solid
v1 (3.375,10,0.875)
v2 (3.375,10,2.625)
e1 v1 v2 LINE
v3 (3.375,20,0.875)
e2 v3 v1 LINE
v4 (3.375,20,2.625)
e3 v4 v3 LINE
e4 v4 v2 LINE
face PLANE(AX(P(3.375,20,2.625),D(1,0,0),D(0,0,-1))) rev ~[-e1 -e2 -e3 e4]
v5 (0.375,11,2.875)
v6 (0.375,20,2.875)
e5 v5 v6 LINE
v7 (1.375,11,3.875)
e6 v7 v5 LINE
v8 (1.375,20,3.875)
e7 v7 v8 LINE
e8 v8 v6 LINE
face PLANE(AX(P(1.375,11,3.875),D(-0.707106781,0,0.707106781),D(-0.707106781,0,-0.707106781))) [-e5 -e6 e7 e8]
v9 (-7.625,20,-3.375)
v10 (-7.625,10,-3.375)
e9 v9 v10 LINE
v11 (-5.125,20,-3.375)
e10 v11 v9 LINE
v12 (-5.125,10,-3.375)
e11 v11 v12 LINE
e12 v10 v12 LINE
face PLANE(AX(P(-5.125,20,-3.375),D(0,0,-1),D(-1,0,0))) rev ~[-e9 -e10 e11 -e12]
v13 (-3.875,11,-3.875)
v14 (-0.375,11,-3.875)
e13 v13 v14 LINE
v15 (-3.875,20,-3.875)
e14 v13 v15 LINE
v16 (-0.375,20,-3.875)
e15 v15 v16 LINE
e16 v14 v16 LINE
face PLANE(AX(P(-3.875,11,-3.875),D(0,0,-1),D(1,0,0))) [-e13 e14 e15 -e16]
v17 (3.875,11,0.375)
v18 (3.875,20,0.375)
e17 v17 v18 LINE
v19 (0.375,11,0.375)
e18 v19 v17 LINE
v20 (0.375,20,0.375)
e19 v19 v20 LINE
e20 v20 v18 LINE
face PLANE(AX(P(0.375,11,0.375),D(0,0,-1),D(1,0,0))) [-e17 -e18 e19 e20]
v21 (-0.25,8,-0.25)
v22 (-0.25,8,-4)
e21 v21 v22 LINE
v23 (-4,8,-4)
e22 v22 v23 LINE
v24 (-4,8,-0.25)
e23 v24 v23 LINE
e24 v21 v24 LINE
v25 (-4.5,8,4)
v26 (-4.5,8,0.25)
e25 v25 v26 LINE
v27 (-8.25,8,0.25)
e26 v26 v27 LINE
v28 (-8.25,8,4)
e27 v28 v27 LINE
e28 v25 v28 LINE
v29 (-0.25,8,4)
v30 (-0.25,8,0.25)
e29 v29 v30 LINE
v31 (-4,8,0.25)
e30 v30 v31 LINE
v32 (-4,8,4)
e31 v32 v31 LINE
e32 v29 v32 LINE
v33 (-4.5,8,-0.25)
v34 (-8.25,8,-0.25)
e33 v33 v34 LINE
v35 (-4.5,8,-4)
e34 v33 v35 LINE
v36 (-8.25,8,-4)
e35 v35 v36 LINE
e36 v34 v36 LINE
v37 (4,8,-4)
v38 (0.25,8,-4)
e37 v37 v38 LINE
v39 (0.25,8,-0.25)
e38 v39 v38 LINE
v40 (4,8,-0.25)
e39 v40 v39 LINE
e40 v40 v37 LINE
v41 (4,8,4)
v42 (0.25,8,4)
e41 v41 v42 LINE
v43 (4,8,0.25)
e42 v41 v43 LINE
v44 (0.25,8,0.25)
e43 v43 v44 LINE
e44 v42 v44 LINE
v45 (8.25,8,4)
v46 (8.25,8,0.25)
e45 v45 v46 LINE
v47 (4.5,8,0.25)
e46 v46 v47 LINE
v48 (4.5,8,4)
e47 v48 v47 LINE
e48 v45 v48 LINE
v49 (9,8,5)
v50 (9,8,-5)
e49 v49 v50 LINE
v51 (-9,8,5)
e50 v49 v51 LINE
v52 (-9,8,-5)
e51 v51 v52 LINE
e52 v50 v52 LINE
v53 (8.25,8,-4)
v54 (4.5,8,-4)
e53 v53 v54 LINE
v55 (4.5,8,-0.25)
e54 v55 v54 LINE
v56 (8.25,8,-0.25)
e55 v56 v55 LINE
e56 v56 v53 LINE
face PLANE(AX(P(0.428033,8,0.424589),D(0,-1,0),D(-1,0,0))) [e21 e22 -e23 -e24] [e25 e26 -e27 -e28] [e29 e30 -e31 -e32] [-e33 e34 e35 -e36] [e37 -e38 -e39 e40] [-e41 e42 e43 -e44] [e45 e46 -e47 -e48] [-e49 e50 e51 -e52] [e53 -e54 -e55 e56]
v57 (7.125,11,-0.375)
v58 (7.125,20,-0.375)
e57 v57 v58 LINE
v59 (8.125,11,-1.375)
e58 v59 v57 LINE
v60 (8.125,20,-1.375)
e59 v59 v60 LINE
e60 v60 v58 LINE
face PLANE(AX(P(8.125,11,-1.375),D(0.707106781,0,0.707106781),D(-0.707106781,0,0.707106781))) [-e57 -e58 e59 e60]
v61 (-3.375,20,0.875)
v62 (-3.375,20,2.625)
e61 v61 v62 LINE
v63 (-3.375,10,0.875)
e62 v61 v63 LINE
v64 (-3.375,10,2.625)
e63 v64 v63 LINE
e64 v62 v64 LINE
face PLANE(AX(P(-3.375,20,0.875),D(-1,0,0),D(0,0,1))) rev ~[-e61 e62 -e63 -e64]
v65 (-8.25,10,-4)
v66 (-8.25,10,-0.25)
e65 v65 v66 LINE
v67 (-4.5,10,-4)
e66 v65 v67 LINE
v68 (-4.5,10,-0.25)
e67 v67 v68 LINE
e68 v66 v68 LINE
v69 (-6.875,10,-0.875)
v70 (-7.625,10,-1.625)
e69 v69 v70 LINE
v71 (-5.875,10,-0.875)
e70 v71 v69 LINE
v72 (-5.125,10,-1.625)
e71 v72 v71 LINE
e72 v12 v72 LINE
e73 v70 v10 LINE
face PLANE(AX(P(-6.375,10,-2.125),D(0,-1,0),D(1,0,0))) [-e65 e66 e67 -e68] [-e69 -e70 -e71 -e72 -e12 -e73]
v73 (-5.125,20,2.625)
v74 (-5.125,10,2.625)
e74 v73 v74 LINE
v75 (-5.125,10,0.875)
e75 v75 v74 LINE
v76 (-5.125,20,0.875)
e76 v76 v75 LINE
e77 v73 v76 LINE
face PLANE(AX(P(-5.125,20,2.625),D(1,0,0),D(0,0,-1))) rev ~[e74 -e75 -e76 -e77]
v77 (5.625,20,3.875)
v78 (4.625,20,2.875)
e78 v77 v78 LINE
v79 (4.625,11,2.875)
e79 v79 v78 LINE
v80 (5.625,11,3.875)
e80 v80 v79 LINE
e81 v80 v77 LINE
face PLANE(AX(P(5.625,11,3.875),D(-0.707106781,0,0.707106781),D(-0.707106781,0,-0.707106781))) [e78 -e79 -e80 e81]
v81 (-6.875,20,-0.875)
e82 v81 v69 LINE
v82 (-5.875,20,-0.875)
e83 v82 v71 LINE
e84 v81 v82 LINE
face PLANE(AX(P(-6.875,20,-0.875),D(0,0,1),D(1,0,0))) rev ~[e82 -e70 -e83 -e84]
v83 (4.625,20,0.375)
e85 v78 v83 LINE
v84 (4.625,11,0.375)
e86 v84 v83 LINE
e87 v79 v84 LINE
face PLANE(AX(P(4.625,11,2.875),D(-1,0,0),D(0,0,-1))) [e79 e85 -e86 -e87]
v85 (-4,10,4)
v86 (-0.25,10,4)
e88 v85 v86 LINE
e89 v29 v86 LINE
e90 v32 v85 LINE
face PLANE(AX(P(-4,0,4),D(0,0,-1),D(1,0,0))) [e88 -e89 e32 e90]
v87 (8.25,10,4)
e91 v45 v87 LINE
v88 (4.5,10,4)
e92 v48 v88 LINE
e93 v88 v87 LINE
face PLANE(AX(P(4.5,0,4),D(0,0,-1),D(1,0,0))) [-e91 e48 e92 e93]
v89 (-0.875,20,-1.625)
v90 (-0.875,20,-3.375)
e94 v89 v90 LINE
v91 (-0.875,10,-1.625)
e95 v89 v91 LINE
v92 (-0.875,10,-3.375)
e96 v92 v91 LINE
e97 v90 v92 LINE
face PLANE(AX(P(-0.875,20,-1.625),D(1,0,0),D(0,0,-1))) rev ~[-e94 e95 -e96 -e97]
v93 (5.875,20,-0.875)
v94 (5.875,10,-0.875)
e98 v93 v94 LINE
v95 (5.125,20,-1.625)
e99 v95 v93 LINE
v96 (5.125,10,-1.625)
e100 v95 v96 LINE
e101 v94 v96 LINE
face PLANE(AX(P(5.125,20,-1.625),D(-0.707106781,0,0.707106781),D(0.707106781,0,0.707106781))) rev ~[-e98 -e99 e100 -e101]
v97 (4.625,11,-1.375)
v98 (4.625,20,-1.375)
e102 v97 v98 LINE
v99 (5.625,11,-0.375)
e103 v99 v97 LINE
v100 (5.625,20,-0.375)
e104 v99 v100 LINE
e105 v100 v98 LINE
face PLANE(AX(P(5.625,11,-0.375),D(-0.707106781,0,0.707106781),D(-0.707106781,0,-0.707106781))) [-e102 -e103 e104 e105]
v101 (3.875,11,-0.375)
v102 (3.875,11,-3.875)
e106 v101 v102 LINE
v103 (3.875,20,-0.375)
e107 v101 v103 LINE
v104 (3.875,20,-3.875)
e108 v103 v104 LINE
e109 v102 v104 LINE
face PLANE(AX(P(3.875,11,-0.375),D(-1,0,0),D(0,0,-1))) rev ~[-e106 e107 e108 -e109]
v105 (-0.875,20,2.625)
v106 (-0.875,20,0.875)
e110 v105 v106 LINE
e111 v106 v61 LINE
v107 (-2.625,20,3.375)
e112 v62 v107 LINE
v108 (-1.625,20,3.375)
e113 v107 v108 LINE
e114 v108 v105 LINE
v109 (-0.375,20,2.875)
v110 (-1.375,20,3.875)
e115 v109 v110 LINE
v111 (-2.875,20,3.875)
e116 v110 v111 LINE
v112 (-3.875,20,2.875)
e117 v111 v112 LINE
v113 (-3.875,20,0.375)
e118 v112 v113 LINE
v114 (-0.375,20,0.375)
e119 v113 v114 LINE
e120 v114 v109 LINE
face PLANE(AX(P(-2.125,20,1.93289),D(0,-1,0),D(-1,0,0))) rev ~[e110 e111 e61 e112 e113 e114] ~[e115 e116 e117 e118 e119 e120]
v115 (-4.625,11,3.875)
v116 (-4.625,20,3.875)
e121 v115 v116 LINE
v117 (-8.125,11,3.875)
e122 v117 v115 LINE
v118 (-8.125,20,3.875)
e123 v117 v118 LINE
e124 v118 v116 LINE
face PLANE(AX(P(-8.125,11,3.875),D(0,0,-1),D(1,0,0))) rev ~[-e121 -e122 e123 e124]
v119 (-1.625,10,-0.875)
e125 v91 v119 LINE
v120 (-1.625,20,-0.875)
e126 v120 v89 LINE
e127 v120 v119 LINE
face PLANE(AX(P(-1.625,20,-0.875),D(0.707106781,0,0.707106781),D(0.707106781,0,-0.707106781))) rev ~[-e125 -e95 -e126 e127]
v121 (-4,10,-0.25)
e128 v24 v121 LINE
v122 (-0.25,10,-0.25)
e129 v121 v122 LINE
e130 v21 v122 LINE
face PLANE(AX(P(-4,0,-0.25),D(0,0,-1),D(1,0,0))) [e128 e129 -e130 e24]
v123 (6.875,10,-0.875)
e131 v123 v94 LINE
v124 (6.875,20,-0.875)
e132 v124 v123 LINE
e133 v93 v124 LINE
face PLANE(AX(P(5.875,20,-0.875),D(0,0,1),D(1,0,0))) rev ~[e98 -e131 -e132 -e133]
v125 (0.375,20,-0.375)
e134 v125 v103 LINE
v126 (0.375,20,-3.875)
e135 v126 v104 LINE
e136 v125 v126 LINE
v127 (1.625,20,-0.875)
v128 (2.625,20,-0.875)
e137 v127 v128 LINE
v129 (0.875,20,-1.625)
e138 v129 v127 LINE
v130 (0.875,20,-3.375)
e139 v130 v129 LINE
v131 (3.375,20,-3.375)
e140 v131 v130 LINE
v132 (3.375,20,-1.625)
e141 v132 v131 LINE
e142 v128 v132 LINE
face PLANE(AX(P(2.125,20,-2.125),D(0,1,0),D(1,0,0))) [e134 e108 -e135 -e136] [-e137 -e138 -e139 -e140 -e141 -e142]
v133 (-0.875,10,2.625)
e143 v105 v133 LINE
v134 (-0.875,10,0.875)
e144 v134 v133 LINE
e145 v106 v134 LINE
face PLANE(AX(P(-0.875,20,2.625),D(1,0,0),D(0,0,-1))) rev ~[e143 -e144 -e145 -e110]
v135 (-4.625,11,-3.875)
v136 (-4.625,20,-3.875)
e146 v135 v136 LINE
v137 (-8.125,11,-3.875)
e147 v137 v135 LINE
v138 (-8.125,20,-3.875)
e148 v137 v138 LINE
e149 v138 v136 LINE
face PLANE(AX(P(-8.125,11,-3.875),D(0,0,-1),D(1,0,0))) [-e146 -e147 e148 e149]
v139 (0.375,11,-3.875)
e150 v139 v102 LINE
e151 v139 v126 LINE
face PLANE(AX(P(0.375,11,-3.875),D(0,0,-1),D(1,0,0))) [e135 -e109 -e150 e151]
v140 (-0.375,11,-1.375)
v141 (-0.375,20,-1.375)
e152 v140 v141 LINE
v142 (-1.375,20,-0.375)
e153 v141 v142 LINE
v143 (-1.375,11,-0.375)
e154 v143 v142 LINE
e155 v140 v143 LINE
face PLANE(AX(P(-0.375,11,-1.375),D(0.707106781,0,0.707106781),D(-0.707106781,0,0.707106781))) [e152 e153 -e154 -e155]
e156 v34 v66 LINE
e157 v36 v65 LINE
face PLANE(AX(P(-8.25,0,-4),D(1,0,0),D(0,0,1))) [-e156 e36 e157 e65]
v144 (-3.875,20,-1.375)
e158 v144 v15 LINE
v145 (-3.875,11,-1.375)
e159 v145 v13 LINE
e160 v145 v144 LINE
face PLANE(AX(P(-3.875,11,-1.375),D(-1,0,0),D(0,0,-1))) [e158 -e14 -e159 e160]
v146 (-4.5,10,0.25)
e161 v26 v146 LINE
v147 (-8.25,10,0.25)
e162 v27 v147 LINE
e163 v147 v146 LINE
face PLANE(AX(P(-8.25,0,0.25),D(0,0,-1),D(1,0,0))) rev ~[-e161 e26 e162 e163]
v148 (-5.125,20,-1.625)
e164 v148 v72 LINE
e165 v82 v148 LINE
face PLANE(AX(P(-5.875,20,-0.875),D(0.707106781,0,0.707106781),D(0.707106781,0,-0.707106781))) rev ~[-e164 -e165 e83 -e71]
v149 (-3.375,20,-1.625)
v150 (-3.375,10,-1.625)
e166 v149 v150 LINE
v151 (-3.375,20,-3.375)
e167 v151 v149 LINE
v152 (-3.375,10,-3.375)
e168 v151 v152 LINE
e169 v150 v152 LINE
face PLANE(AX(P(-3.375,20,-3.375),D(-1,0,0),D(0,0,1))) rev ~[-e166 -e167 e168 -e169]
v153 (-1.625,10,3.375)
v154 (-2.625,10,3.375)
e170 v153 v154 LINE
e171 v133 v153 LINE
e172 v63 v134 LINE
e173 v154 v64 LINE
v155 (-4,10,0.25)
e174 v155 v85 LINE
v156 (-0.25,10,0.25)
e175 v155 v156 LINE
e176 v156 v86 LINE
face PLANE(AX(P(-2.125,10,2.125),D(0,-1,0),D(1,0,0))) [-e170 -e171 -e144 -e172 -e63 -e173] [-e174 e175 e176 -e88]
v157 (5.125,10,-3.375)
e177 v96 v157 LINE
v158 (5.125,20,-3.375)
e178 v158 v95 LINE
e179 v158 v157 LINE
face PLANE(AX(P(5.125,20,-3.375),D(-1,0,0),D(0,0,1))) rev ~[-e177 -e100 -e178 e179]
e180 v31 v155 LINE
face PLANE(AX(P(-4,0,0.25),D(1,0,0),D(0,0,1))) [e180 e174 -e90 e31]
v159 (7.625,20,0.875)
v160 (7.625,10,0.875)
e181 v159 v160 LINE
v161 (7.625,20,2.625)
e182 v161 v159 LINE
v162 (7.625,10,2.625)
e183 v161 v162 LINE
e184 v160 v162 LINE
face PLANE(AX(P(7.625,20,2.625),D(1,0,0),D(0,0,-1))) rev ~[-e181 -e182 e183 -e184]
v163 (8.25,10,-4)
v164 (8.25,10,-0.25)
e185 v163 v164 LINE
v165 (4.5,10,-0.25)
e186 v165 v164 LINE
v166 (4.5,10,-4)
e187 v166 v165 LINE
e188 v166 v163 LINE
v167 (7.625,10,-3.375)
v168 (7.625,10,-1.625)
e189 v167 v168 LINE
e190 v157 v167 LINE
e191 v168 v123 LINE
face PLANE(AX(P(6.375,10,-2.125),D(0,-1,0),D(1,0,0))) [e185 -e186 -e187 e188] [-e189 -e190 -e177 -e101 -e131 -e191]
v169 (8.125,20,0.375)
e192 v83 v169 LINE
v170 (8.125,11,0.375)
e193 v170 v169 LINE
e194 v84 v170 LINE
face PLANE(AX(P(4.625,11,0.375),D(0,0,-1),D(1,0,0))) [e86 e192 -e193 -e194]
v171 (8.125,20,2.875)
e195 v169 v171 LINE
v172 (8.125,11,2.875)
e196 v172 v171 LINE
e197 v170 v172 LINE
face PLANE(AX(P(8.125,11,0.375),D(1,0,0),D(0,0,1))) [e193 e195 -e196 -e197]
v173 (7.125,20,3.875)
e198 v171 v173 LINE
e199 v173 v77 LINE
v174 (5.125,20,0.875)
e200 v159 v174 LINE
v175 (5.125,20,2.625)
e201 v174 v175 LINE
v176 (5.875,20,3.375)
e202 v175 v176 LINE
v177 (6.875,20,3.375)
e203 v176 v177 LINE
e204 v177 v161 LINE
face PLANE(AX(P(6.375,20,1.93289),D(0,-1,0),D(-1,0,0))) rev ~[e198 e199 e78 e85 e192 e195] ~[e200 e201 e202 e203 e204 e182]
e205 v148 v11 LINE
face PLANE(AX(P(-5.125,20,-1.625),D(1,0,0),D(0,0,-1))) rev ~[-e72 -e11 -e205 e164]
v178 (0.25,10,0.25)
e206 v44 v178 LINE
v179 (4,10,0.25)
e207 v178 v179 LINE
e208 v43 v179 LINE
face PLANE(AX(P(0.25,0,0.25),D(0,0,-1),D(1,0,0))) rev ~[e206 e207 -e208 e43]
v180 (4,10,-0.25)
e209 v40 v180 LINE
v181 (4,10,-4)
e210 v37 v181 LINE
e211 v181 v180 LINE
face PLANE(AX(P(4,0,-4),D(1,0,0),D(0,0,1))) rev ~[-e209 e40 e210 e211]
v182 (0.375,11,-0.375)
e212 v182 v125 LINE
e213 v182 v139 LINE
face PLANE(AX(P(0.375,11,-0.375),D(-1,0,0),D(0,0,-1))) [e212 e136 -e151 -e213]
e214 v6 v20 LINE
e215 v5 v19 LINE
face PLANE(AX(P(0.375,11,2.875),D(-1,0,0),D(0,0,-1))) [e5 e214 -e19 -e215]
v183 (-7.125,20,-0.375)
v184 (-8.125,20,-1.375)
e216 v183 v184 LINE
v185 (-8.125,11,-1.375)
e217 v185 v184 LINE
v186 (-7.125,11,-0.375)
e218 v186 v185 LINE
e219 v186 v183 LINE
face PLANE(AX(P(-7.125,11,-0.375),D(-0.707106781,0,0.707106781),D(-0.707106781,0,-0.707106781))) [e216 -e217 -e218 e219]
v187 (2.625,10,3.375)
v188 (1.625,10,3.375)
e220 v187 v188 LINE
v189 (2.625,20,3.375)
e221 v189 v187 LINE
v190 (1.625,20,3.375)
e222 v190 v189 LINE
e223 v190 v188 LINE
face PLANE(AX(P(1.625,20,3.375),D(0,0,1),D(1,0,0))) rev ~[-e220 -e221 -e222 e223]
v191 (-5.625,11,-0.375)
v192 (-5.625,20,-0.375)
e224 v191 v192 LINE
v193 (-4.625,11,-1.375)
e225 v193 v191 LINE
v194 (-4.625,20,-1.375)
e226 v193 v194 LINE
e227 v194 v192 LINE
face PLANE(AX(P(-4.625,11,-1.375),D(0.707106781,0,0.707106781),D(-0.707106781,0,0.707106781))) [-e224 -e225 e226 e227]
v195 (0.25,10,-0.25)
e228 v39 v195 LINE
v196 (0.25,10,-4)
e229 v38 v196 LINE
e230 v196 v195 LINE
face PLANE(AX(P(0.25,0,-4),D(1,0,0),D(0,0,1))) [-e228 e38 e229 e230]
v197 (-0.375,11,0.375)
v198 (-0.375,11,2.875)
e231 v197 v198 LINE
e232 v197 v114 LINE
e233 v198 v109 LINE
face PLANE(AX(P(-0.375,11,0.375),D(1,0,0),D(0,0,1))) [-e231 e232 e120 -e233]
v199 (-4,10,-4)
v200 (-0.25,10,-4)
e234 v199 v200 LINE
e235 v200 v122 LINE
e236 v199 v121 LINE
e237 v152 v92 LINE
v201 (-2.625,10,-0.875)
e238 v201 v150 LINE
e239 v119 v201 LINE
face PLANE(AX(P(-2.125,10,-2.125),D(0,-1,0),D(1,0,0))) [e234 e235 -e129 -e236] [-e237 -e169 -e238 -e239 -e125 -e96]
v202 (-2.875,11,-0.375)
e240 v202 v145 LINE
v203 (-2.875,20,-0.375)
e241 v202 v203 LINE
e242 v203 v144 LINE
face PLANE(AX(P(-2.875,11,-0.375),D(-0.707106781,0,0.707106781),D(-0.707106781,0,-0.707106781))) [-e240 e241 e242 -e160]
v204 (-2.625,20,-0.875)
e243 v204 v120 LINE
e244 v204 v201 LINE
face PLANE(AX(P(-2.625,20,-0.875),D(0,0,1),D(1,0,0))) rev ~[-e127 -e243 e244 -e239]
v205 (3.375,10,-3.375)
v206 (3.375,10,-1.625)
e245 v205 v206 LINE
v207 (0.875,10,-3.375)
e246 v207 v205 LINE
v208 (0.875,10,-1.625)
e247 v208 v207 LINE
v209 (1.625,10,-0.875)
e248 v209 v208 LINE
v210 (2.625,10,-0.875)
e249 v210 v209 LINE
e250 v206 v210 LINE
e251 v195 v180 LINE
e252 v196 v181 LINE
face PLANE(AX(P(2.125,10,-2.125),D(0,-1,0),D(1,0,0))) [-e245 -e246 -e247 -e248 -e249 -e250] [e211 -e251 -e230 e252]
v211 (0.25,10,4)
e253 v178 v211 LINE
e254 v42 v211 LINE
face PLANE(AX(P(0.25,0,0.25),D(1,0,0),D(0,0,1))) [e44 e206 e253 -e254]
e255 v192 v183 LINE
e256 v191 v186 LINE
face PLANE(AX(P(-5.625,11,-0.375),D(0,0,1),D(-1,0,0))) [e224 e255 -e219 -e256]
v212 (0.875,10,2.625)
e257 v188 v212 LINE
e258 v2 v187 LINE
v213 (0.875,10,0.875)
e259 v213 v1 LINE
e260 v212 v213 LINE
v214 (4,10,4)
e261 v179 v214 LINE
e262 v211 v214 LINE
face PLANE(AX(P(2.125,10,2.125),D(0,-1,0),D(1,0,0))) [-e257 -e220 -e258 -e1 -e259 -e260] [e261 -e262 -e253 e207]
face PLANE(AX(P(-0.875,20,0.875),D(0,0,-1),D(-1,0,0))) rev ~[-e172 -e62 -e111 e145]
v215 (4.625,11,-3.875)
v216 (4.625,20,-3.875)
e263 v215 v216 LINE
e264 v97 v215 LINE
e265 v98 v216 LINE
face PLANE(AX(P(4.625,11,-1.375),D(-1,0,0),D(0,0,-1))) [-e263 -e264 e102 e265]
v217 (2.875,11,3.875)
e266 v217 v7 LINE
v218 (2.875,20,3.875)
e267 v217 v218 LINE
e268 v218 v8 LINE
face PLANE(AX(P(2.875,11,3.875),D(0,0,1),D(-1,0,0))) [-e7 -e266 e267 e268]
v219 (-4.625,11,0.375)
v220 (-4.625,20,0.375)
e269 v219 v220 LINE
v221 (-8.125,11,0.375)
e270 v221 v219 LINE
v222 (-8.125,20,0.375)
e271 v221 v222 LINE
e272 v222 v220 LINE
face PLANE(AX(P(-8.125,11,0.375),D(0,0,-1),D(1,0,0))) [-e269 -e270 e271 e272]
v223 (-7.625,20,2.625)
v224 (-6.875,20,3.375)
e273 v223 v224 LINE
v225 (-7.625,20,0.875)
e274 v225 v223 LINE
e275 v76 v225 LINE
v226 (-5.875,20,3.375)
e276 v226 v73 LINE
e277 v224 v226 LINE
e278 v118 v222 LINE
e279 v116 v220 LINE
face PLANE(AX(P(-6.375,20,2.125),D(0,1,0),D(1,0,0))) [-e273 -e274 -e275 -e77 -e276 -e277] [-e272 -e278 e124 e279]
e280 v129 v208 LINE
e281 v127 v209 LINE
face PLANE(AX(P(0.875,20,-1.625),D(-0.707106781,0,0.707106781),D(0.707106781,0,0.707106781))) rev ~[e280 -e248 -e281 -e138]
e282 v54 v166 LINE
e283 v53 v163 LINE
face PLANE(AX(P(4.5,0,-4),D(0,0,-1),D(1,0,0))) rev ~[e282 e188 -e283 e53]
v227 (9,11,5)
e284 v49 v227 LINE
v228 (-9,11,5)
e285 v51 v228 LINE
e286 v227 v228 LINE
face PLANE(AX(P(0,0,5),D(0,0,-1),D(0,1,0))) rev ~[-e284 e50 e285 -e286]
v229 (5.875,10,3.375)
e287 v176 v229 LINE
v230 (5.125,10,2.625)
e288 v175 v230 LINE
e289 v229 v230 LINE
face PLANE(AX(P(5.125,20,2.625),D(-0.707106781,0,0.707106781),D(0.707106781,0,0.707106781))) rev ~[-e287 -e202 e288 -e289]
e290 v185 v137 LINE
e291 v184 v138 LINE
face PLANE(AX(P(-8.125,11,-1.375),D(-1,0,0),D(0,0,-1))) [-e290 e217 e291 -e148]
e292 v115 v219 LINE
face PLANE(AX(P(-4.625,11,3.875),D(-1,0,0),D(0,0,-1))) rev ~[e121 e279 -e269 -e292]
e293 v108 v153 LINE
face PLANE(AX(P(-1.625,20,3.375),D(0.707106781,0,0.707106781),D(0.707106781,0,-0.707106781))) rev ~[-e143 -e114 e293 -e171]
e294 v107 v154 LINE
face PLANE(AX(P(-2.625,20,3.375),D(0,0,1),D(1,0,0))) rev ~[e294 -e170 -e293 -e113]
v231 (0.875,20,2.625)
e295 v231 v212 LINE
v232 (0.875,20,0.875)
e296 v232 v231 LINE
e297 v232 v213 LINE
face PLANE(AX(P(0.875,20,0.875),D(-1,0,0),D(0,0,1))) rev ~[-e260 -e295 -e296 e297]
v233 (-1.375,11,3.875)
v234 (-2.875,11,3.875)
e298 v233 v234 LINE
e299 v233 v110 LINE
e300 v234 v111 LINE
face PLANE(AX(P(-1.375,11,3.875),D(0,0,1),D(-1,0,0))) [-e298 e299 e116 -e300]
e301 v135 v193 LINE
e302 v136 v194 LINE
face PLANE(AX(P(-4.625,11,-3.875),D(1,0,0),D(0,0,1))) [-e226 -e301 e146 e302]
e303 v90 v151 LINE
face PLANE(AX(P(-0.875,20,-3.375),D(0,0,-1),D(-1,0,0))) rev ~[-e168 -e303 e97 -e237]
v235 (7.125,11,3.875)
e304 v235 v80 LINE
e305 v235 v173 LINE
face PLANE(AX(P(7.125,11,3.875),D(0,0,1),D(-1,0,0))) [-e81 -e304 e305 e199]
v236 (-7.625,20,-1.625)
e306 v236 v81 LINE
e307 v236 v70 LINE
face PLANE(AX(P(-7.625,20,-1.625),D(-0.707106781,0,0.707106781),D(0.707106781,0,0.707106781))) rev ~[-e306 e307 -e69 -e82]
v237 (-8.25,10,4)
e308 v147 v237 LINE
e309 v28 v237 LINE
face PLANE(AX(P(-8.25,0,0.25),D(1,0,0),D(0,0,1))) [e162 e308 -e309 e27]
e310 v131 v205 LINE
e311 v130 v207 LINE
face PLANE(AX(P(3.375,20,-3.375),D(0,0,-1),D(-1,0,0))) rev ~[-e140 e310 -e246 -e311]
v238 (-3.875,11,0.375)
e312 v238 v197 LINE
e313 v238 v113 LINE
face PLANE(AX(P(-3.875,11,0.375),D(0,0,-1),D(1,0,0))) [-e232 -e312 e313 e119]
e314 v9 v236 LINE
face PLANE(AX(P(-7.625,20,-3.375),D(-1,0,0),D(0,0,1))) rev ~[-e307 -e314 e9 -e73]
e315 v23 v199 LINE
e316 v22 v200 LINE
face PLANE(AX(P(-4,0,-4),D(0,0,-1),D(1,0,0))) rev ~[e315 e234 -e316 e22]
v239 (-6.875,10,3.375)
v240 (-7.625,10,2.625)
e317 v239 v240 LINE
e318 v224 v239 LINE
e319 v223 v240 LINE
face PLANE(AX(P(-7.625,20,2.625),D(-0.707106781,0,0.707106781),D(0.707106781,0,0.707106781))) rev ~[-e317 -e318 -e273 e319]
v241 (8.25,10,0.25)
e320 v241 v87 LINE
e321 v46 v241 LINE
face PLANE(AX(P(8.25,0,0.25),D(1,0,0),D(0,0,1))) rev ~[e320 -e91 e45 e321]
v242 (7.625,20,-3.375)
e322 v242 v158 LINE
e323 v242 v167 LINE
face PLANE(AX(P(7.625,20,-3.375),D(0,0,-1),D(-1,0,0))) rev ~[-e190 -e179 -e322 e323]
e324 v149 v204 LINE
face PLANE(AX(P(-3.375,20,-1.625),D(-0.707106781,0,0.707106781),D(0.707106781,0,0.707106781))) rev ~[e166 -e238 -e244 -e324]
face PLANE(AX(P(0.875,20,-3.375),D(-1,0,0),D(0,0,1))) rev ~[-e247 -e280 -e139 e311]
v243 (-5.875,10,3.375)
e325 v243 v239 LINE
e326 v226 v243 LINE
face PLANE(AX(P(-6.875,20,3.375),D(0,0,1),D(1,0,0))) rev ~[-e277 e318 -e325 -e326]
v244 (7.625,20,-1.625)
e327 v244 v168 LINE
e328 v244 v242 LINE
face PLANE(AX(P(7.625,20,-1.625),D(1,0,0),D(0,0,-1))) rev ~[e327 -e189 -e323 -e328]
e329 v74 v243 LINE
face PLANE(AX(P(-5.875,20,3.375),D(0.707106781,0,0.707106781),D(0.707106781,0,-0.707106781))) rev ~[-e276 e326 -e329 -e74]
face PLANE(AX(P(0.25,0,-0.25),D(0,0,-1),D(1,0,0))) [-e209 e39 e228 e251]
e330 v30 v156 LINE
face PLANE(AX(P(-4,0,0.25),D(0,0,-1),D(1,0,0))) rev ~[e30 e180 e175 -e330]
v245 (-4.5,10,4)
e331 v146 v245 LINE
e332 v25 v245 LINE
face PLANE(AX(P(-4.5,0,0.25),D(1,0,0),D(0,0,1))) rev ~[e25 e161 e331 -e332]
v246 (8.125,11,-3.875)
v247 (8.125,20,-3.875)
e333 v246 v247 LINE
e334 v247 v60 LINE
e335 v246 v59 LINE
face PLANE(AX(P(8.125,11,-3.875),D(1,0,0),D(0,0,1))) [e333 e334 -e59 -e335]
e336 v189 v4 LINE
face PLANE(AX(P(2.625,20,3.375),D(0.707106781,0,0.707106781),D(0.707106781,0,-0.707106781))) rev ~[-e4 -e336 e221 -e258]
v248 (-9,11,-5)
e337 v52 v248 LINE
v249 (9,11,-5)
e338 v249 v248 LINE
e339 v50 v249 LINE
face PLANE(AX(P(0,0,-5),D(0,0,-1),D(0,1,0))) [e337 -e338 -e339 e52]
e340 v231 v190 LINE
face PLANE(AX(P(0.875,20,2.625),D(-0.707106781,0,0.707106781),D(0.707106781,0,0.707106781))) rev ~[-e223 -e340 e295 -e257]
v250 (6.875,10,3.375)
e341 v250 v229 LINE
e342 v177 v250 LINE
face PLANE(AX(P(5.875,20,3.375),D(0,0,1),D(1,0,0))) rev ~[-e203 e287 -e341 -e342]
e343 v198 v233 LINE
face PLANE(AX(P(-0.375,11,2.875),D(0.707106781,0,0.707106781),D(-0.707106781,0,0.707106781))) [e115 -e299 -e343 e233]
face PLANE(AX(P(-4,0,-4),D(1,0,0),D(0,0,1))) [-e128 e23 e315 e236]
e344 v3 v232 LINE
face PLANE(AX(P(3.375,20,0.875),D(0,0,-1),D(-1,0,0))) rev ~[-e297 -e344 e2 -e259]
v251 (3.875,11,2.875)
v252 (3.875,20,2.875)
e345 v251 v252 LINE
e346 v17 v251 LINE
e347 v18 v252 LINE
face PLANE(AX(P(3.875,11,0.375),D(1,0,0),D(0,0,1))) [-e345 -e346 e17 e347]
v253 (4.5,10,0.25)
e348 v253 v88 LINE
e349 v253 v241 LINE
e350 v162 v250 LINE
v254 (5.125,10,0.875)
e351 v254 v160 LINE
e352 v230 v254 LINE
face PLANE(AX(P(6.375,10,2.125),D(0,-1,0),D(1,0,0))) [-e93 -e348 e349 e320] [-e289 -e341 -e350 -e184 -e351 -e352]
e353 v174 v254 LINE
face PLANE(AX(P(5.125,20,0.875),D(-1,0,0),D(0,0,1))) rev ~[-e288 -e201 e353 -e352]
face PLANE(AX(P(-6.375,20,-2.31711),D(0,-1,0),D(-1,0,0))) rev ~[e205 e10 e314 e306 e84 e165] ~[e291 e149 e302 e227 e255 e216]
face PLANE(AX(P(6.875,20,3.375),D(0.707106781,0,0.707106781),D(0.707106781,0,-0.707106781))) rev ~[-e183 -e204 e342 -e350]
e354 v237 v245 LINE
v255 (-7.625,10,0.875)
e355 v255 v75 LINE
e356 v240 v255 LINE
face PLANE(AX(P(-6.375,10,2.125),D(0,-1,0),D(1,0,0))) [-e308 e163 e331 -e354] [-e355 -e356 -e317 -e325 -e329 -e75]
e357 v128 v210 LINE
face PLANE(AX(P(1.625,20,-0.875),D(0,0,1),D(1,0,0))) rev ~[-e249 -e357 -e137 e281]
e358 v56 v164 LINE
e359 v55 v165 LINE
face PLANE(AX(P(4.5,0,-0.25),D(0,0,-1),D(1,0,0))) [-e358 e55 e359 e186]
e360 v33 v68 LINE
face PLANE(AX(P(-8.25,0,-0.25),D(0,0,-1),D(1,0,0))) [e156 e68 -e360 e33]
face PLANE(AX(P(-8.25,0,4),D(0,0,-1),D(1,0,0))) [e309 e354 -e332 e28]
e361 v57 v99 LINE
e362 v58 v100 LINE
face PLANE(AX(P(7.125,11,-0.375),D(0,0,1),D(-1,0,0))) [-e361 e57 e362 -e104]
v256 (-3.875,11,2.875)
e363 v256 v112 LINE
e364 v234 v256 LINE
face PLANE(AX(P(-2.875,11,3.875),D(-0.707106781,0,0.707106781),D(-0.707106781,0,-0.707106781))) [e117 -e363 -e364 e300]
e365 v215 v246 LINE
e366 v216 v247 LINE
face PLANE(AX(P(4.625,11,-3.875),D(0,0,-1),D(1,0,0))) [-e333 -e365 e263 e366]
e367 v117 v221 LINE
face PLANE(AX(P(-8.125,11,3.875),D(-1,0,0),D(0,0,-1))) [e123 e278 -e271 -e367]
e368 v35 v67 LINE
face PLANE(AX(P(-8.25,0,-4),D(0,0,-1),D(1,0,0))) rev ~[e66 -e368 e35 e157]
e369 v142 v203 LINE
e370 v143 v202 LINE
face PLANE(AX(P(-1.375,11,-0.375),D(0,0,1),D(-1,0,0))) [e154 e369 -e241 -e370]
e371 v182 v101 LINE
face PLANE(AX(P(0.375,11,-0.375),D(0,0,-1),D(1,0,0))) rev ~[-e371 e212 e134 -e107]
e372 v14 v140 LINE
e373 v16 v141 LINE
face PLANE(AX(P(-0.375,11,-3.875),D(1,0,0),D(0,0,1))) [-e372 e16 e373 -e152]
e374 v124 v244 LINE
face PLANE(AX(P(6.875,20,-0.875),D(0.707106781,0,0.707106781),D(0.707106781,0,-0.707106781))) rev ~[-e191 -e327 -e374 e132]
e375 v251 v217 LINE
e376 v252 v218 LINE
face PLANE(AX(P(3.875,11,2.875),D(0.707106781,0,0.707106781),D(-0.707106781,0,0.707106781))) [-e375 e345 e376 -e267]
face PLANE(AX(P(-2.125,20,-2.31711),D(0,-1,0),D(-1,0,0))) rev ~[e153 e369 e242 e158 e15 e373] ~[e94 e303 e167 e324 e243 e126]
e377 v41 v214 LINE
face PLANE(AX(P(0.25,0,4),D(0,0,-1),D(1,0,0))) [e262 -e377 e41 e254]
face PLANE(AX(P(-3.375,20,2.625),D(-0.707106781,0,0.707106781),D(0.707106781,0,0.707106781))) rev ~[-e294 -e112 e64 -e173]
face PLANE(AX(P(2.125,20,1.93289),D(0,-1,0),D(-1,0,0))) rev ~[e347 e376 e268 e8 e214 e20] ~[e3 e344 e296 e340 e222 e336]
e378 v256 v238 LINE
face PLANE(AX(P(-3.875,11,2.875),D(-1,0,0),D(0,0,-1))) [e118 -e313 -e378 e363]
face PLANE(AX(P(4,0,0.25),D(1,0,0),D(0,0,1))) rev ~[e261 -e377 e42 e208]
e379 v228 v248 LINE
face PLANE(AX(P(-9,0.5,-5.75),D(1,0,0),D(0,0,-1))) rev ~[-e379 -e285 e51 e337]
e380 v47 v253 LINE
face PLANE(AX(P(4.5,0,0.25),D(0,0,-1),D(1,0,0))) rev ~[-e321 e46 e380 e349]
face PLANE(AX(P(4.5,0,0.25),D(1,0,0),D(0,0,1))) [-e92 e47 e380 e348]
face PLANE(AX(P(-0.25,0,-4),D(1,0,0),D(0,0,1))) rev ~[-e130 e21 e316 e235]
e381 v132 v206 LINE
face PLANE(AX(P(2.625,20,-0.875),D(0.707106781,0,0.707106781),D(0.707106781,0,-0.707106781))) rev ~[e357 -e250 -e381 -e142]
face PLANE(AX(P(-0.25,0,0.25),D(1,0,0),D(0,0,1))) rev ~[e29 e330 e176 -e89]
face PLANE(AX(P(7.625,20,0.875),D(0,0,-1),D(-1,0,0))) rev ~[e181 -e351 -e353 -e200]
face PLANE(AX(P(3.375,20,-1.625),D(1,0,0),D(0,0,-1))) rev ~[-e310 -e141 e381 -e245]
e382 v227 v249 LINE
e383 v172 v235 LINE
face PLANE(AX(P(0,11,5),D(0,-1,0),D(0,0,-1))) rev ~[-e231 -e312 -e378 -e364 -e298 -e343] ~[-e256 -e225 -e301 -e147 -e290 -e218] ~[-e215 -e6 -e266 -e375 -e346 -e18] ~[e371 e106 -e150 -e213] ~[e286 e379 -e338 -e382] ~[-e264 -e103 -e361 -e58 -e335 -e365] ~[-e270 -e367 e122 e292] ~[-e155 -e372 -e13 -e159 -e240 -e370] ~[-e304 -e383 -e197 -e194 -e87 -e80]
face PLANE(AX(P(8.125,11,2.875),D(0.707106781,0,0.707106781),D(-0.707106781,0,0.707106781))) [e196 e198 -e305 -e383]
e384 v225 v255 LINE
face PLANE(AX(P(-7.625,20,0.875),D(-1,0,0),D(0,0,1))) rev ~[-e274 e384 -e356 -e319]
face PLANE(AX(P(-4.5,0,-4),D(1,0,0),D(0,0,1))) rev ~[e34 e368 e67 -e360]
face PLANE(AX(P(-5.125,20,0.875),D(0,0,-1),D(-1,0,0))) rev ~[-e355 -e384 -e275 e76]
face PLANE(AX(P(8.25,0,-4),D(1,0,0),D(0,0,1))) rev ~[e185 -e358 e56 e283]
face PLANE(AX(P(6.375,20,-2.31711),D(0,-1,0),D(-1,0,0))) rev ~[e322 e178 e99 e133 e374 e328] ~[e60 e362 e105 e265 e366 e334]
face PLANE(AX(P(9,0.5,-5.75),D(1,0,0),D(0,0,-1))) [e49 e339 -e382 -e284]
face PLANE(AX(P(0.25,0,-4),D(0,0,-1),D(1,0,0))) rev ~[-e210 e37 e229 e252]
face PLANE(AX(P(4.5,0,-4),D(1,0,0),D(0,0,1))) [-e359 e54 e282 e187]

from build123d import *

# Parameters (mm, degrees)
SKIZZE1_W                       = 10
SKIZZE1_H                       = 11
AUFSATZ_LINEAR_AUSTRAGEN1_DEPTH = 9
SKIZZE2_W                       = 1.5
SKIZZE2_H                       = 1
AUFSATZ_LINEAR_AUSTRAGEN2_DEPTH = 9
SKIZZE6_W                       = 3.75
SKIZZE6_H                       = 3.75
SCHNITT_LINEAR_AUSTRAGEN2_DEPTH = 10
LINEARES_MUSTER1_COUNT          = 4
LINEARES_MUSTER1_PITCH          = 4.25
LINEARES_MUSTER1_COUNT_DIR2     = 2
LINEARES_MUSTER1_PITCH_DIR2     = 4.25
SKIZZE7_W                       = 3.5
SKIZZE7_H                       = 3.5
AUFSATZ_LINEAR_AUSTRAGEN5_DEPTH = 9
LINEARES_MUSTER2_COUNT          = 3
LINEARES_MUSTER2_PITCH          = 4.25
LINEARES_MUSTER2_COUNT_DIR2     = 2
LINEARES_MUSTER2_PITCH_DIR2     = 4.25
AUFSATZ_LINEAR_AUSTRAGEN7_DEPTH = 9
LINEARES_MUSTER4_COUNT          = 4
LINEARES_MUSTER4_PITCH          = 4.25
LINEARES_MUSTER4_COUNT_DIR2     = 2
LINEARES_MUSTER4_PITCH_DIR2     = 4.25
SCHNITT_LINEAR_AUSTRAGEN4_DEPTH = 23.874658467
LINEARES_MUSTER6_COUNT          = 4
LINEARES_MUSTER6_PITCH          = 4.25
LINEARES_MUSTER6_COUNT_DIR2     = 2
LINEARES_MUSTER6_PITCH_DIR2     = 4.25
SKETCH_3_W                      = 20.071123044
SKETCH_3_H                      = 21.030403289
CUT_EXTRUDE_1_DEPTH             = 8


with BuildPart() as part:
    # Skizze1 → Aufsatz-Linear austragen1 (new, symmetric)
    with BuildSketch(Plane(origin=(0, 0, 0), x_dir=(0, 0, -1), z_dir=(1, 0, 0))):
        with Locations((0, 5.5)):
            Rectangle(SKIZZE1_W, SKIZZE1_H)
    extrude(amount=AUFSATZ_LINEAR_AUSTRAGEN1_DEPTH, both=True)

    # Skizze2 → Aufsatz-Linear austragen2 (add, symmetric)
    with BuildSketch(Plane(origin=(0, 0, 0), x_dir=(0, 0, -1), z_dir=(1, 0, 0))):
        with Locations((-5.75, 0.5)):
            Rectangle(SKIZZE2_W, SKIZZE2_H)
        with Locations((5.75, 0.5)):
            Rectangle(SKIZZE2_W, SKIZZE2_H)
    extrude(amount=AUFSATZ_LINEAR_AUSTRAGEN2_DEPTH, both=True)

    # Skizze6 → Schnitt-Linear austragen2 (cut)
    with BuildSketch(Plane.XZ):
        with Locations((-6.375, -2.125)):
            Rectangle(SKIZZE6_W, SKIZZE6_H)
    schnitt_linear_austragen2 = extrude(amount=-SCHNITT_LINEAR_AUSTRAGEN2_DEPTH, mode=Mode.SUBTRACT)

    # Lineares Muster1: Schnitt-Linear austragen2 4 × 2
    with Locations(*[(i * LINEARES_MUSTER1_PITCH, 0, j * LINEARES_MUSTER1_PITCH_DIR2) for i in range(LINEARES_MUSTER1_COUNT) for j in range(LINEARES_MUSTER1_COUNT_DIR2) if (i, j) != (0, 0)]):
        add(schnitt_linear_austragen2, mode=Mode.SUBTRACT)

    # Skizze7 → Aufsatz-Linear austragen5 (add)
    with BuildSketch(Plane(origin=(0, 11, 0), x_dir=(1, 0, 0), z_dir=(0, 1, 0))):
        with Locations((-6.375, -2.125)):
            Rectangle(SKIZZE7_W, SKIZZE7_H)
    aufsatz_linear_austragen5 = extrude(amount=AUFSATZ_LINEAR_AUSTRAGEN5_DEPTH)

    # Lineares Muster2: Aufsatz-Linear austragen5 3 × 2, 4 skipped
    with Locations(*[(i * LINEARES_MUSTER2_PITCH, 0, -j * LINEARES_MUSTER2_PITCH_DIR2) for i in range(LINEARES_MUSTER2_COUNT) for j in range(LINEARES_MUSTER2_COUNT_DIR2) if (i, j) not in ((0, 0), (0, 1), (1, 0), (1, 1), (2, 0))]):
        add(aufsatz_linear_austragen5)

    # Skizze10 → Aufsatz-Linear austragen7 (add)
    with BuildSketch(Plane(origin=(0, 11, 0), x_dir=(1, 0, 0), z_dir=(0, 1, 0))):
        Polygon((-4.625, 1.375), (-5.625, 0.375), (-7.125, 0.375), (-8.125, 1.375), (-8.125, 3.875), (-4.625, 3.875), align=None)
    aufsatz_linear_austragen7 = extrude(amount=AUFSATZ_LINEAR_AUSTRAGEN7_DEPTH)

    # Lineares Muster4: Aufsatz-Linear austragen7 4 × 2, 2 skipped
    with Locations(*[(i * LINEARES_MUSTER4_PITCH, 0, j * LINEARES_MUSTER4_PITCH_DIR2) for i in range(LINEARES_MUSTER4_COUNT) for j in range(LINEARES_MUSTER4_COUNT_DIR2) if (i, j) not in ((0, 0), (0, 1), (2, 0))]):
        add(aufsatz_linear_austragen7)

    # Skizze12 → Schnitt-Linear austragen4 (cut, through all)
    with BuildSketch(Plane(origin=(0, 20, 0), x_dir=(1, 0, 0), z_dir=(0, 1, 0))):
        Polygon((-5.875, 0.875), (-5.125, 1.625), (-5.125, 3.375), (-7.625, 3.375), (-7.625, 1.625), (-6.875, 0.875), align=None)
    schnitt_linear_austragen4 = extrude(amount=-SCHNITT_LINEAR_AUSTRAGEN4_DEPTH, mode=Mode.SUBTRACT)

    # Lineares Muster6: Schnitt-Linear austragen4 4 × 2
    with Locations(*[(i * LINEARES_MUSTER6_PITCH, 0, j * LINEARES_MUSTER6_PITCH_DIR2) for i in range(LINEARES_MUSTER6_COUNT) for j in range(LINEARES_MUSTER6_COUNT_DIR2) if (i, j) != (0, 0)]):
        add(schnitt_linear_austragen4, mode=Mode.SUBTRACT)

    # 草图3 → 切除-拉伸1 (cut)
    with BuildSketch(Plane(origin=(0, 0, 0), x_dir=(-1, 0, 0), z_dir=(0, -1, 0))):
        with Locations((-0.428033297, -0.424589463)):
            Rectangle(SKETCH_3_W, SKETCH_3_H)
    extrude(amount=-CUT_EXTRUDE_1_DEPTH, mode=Mode.SUBTRACT)


solid = part.part
